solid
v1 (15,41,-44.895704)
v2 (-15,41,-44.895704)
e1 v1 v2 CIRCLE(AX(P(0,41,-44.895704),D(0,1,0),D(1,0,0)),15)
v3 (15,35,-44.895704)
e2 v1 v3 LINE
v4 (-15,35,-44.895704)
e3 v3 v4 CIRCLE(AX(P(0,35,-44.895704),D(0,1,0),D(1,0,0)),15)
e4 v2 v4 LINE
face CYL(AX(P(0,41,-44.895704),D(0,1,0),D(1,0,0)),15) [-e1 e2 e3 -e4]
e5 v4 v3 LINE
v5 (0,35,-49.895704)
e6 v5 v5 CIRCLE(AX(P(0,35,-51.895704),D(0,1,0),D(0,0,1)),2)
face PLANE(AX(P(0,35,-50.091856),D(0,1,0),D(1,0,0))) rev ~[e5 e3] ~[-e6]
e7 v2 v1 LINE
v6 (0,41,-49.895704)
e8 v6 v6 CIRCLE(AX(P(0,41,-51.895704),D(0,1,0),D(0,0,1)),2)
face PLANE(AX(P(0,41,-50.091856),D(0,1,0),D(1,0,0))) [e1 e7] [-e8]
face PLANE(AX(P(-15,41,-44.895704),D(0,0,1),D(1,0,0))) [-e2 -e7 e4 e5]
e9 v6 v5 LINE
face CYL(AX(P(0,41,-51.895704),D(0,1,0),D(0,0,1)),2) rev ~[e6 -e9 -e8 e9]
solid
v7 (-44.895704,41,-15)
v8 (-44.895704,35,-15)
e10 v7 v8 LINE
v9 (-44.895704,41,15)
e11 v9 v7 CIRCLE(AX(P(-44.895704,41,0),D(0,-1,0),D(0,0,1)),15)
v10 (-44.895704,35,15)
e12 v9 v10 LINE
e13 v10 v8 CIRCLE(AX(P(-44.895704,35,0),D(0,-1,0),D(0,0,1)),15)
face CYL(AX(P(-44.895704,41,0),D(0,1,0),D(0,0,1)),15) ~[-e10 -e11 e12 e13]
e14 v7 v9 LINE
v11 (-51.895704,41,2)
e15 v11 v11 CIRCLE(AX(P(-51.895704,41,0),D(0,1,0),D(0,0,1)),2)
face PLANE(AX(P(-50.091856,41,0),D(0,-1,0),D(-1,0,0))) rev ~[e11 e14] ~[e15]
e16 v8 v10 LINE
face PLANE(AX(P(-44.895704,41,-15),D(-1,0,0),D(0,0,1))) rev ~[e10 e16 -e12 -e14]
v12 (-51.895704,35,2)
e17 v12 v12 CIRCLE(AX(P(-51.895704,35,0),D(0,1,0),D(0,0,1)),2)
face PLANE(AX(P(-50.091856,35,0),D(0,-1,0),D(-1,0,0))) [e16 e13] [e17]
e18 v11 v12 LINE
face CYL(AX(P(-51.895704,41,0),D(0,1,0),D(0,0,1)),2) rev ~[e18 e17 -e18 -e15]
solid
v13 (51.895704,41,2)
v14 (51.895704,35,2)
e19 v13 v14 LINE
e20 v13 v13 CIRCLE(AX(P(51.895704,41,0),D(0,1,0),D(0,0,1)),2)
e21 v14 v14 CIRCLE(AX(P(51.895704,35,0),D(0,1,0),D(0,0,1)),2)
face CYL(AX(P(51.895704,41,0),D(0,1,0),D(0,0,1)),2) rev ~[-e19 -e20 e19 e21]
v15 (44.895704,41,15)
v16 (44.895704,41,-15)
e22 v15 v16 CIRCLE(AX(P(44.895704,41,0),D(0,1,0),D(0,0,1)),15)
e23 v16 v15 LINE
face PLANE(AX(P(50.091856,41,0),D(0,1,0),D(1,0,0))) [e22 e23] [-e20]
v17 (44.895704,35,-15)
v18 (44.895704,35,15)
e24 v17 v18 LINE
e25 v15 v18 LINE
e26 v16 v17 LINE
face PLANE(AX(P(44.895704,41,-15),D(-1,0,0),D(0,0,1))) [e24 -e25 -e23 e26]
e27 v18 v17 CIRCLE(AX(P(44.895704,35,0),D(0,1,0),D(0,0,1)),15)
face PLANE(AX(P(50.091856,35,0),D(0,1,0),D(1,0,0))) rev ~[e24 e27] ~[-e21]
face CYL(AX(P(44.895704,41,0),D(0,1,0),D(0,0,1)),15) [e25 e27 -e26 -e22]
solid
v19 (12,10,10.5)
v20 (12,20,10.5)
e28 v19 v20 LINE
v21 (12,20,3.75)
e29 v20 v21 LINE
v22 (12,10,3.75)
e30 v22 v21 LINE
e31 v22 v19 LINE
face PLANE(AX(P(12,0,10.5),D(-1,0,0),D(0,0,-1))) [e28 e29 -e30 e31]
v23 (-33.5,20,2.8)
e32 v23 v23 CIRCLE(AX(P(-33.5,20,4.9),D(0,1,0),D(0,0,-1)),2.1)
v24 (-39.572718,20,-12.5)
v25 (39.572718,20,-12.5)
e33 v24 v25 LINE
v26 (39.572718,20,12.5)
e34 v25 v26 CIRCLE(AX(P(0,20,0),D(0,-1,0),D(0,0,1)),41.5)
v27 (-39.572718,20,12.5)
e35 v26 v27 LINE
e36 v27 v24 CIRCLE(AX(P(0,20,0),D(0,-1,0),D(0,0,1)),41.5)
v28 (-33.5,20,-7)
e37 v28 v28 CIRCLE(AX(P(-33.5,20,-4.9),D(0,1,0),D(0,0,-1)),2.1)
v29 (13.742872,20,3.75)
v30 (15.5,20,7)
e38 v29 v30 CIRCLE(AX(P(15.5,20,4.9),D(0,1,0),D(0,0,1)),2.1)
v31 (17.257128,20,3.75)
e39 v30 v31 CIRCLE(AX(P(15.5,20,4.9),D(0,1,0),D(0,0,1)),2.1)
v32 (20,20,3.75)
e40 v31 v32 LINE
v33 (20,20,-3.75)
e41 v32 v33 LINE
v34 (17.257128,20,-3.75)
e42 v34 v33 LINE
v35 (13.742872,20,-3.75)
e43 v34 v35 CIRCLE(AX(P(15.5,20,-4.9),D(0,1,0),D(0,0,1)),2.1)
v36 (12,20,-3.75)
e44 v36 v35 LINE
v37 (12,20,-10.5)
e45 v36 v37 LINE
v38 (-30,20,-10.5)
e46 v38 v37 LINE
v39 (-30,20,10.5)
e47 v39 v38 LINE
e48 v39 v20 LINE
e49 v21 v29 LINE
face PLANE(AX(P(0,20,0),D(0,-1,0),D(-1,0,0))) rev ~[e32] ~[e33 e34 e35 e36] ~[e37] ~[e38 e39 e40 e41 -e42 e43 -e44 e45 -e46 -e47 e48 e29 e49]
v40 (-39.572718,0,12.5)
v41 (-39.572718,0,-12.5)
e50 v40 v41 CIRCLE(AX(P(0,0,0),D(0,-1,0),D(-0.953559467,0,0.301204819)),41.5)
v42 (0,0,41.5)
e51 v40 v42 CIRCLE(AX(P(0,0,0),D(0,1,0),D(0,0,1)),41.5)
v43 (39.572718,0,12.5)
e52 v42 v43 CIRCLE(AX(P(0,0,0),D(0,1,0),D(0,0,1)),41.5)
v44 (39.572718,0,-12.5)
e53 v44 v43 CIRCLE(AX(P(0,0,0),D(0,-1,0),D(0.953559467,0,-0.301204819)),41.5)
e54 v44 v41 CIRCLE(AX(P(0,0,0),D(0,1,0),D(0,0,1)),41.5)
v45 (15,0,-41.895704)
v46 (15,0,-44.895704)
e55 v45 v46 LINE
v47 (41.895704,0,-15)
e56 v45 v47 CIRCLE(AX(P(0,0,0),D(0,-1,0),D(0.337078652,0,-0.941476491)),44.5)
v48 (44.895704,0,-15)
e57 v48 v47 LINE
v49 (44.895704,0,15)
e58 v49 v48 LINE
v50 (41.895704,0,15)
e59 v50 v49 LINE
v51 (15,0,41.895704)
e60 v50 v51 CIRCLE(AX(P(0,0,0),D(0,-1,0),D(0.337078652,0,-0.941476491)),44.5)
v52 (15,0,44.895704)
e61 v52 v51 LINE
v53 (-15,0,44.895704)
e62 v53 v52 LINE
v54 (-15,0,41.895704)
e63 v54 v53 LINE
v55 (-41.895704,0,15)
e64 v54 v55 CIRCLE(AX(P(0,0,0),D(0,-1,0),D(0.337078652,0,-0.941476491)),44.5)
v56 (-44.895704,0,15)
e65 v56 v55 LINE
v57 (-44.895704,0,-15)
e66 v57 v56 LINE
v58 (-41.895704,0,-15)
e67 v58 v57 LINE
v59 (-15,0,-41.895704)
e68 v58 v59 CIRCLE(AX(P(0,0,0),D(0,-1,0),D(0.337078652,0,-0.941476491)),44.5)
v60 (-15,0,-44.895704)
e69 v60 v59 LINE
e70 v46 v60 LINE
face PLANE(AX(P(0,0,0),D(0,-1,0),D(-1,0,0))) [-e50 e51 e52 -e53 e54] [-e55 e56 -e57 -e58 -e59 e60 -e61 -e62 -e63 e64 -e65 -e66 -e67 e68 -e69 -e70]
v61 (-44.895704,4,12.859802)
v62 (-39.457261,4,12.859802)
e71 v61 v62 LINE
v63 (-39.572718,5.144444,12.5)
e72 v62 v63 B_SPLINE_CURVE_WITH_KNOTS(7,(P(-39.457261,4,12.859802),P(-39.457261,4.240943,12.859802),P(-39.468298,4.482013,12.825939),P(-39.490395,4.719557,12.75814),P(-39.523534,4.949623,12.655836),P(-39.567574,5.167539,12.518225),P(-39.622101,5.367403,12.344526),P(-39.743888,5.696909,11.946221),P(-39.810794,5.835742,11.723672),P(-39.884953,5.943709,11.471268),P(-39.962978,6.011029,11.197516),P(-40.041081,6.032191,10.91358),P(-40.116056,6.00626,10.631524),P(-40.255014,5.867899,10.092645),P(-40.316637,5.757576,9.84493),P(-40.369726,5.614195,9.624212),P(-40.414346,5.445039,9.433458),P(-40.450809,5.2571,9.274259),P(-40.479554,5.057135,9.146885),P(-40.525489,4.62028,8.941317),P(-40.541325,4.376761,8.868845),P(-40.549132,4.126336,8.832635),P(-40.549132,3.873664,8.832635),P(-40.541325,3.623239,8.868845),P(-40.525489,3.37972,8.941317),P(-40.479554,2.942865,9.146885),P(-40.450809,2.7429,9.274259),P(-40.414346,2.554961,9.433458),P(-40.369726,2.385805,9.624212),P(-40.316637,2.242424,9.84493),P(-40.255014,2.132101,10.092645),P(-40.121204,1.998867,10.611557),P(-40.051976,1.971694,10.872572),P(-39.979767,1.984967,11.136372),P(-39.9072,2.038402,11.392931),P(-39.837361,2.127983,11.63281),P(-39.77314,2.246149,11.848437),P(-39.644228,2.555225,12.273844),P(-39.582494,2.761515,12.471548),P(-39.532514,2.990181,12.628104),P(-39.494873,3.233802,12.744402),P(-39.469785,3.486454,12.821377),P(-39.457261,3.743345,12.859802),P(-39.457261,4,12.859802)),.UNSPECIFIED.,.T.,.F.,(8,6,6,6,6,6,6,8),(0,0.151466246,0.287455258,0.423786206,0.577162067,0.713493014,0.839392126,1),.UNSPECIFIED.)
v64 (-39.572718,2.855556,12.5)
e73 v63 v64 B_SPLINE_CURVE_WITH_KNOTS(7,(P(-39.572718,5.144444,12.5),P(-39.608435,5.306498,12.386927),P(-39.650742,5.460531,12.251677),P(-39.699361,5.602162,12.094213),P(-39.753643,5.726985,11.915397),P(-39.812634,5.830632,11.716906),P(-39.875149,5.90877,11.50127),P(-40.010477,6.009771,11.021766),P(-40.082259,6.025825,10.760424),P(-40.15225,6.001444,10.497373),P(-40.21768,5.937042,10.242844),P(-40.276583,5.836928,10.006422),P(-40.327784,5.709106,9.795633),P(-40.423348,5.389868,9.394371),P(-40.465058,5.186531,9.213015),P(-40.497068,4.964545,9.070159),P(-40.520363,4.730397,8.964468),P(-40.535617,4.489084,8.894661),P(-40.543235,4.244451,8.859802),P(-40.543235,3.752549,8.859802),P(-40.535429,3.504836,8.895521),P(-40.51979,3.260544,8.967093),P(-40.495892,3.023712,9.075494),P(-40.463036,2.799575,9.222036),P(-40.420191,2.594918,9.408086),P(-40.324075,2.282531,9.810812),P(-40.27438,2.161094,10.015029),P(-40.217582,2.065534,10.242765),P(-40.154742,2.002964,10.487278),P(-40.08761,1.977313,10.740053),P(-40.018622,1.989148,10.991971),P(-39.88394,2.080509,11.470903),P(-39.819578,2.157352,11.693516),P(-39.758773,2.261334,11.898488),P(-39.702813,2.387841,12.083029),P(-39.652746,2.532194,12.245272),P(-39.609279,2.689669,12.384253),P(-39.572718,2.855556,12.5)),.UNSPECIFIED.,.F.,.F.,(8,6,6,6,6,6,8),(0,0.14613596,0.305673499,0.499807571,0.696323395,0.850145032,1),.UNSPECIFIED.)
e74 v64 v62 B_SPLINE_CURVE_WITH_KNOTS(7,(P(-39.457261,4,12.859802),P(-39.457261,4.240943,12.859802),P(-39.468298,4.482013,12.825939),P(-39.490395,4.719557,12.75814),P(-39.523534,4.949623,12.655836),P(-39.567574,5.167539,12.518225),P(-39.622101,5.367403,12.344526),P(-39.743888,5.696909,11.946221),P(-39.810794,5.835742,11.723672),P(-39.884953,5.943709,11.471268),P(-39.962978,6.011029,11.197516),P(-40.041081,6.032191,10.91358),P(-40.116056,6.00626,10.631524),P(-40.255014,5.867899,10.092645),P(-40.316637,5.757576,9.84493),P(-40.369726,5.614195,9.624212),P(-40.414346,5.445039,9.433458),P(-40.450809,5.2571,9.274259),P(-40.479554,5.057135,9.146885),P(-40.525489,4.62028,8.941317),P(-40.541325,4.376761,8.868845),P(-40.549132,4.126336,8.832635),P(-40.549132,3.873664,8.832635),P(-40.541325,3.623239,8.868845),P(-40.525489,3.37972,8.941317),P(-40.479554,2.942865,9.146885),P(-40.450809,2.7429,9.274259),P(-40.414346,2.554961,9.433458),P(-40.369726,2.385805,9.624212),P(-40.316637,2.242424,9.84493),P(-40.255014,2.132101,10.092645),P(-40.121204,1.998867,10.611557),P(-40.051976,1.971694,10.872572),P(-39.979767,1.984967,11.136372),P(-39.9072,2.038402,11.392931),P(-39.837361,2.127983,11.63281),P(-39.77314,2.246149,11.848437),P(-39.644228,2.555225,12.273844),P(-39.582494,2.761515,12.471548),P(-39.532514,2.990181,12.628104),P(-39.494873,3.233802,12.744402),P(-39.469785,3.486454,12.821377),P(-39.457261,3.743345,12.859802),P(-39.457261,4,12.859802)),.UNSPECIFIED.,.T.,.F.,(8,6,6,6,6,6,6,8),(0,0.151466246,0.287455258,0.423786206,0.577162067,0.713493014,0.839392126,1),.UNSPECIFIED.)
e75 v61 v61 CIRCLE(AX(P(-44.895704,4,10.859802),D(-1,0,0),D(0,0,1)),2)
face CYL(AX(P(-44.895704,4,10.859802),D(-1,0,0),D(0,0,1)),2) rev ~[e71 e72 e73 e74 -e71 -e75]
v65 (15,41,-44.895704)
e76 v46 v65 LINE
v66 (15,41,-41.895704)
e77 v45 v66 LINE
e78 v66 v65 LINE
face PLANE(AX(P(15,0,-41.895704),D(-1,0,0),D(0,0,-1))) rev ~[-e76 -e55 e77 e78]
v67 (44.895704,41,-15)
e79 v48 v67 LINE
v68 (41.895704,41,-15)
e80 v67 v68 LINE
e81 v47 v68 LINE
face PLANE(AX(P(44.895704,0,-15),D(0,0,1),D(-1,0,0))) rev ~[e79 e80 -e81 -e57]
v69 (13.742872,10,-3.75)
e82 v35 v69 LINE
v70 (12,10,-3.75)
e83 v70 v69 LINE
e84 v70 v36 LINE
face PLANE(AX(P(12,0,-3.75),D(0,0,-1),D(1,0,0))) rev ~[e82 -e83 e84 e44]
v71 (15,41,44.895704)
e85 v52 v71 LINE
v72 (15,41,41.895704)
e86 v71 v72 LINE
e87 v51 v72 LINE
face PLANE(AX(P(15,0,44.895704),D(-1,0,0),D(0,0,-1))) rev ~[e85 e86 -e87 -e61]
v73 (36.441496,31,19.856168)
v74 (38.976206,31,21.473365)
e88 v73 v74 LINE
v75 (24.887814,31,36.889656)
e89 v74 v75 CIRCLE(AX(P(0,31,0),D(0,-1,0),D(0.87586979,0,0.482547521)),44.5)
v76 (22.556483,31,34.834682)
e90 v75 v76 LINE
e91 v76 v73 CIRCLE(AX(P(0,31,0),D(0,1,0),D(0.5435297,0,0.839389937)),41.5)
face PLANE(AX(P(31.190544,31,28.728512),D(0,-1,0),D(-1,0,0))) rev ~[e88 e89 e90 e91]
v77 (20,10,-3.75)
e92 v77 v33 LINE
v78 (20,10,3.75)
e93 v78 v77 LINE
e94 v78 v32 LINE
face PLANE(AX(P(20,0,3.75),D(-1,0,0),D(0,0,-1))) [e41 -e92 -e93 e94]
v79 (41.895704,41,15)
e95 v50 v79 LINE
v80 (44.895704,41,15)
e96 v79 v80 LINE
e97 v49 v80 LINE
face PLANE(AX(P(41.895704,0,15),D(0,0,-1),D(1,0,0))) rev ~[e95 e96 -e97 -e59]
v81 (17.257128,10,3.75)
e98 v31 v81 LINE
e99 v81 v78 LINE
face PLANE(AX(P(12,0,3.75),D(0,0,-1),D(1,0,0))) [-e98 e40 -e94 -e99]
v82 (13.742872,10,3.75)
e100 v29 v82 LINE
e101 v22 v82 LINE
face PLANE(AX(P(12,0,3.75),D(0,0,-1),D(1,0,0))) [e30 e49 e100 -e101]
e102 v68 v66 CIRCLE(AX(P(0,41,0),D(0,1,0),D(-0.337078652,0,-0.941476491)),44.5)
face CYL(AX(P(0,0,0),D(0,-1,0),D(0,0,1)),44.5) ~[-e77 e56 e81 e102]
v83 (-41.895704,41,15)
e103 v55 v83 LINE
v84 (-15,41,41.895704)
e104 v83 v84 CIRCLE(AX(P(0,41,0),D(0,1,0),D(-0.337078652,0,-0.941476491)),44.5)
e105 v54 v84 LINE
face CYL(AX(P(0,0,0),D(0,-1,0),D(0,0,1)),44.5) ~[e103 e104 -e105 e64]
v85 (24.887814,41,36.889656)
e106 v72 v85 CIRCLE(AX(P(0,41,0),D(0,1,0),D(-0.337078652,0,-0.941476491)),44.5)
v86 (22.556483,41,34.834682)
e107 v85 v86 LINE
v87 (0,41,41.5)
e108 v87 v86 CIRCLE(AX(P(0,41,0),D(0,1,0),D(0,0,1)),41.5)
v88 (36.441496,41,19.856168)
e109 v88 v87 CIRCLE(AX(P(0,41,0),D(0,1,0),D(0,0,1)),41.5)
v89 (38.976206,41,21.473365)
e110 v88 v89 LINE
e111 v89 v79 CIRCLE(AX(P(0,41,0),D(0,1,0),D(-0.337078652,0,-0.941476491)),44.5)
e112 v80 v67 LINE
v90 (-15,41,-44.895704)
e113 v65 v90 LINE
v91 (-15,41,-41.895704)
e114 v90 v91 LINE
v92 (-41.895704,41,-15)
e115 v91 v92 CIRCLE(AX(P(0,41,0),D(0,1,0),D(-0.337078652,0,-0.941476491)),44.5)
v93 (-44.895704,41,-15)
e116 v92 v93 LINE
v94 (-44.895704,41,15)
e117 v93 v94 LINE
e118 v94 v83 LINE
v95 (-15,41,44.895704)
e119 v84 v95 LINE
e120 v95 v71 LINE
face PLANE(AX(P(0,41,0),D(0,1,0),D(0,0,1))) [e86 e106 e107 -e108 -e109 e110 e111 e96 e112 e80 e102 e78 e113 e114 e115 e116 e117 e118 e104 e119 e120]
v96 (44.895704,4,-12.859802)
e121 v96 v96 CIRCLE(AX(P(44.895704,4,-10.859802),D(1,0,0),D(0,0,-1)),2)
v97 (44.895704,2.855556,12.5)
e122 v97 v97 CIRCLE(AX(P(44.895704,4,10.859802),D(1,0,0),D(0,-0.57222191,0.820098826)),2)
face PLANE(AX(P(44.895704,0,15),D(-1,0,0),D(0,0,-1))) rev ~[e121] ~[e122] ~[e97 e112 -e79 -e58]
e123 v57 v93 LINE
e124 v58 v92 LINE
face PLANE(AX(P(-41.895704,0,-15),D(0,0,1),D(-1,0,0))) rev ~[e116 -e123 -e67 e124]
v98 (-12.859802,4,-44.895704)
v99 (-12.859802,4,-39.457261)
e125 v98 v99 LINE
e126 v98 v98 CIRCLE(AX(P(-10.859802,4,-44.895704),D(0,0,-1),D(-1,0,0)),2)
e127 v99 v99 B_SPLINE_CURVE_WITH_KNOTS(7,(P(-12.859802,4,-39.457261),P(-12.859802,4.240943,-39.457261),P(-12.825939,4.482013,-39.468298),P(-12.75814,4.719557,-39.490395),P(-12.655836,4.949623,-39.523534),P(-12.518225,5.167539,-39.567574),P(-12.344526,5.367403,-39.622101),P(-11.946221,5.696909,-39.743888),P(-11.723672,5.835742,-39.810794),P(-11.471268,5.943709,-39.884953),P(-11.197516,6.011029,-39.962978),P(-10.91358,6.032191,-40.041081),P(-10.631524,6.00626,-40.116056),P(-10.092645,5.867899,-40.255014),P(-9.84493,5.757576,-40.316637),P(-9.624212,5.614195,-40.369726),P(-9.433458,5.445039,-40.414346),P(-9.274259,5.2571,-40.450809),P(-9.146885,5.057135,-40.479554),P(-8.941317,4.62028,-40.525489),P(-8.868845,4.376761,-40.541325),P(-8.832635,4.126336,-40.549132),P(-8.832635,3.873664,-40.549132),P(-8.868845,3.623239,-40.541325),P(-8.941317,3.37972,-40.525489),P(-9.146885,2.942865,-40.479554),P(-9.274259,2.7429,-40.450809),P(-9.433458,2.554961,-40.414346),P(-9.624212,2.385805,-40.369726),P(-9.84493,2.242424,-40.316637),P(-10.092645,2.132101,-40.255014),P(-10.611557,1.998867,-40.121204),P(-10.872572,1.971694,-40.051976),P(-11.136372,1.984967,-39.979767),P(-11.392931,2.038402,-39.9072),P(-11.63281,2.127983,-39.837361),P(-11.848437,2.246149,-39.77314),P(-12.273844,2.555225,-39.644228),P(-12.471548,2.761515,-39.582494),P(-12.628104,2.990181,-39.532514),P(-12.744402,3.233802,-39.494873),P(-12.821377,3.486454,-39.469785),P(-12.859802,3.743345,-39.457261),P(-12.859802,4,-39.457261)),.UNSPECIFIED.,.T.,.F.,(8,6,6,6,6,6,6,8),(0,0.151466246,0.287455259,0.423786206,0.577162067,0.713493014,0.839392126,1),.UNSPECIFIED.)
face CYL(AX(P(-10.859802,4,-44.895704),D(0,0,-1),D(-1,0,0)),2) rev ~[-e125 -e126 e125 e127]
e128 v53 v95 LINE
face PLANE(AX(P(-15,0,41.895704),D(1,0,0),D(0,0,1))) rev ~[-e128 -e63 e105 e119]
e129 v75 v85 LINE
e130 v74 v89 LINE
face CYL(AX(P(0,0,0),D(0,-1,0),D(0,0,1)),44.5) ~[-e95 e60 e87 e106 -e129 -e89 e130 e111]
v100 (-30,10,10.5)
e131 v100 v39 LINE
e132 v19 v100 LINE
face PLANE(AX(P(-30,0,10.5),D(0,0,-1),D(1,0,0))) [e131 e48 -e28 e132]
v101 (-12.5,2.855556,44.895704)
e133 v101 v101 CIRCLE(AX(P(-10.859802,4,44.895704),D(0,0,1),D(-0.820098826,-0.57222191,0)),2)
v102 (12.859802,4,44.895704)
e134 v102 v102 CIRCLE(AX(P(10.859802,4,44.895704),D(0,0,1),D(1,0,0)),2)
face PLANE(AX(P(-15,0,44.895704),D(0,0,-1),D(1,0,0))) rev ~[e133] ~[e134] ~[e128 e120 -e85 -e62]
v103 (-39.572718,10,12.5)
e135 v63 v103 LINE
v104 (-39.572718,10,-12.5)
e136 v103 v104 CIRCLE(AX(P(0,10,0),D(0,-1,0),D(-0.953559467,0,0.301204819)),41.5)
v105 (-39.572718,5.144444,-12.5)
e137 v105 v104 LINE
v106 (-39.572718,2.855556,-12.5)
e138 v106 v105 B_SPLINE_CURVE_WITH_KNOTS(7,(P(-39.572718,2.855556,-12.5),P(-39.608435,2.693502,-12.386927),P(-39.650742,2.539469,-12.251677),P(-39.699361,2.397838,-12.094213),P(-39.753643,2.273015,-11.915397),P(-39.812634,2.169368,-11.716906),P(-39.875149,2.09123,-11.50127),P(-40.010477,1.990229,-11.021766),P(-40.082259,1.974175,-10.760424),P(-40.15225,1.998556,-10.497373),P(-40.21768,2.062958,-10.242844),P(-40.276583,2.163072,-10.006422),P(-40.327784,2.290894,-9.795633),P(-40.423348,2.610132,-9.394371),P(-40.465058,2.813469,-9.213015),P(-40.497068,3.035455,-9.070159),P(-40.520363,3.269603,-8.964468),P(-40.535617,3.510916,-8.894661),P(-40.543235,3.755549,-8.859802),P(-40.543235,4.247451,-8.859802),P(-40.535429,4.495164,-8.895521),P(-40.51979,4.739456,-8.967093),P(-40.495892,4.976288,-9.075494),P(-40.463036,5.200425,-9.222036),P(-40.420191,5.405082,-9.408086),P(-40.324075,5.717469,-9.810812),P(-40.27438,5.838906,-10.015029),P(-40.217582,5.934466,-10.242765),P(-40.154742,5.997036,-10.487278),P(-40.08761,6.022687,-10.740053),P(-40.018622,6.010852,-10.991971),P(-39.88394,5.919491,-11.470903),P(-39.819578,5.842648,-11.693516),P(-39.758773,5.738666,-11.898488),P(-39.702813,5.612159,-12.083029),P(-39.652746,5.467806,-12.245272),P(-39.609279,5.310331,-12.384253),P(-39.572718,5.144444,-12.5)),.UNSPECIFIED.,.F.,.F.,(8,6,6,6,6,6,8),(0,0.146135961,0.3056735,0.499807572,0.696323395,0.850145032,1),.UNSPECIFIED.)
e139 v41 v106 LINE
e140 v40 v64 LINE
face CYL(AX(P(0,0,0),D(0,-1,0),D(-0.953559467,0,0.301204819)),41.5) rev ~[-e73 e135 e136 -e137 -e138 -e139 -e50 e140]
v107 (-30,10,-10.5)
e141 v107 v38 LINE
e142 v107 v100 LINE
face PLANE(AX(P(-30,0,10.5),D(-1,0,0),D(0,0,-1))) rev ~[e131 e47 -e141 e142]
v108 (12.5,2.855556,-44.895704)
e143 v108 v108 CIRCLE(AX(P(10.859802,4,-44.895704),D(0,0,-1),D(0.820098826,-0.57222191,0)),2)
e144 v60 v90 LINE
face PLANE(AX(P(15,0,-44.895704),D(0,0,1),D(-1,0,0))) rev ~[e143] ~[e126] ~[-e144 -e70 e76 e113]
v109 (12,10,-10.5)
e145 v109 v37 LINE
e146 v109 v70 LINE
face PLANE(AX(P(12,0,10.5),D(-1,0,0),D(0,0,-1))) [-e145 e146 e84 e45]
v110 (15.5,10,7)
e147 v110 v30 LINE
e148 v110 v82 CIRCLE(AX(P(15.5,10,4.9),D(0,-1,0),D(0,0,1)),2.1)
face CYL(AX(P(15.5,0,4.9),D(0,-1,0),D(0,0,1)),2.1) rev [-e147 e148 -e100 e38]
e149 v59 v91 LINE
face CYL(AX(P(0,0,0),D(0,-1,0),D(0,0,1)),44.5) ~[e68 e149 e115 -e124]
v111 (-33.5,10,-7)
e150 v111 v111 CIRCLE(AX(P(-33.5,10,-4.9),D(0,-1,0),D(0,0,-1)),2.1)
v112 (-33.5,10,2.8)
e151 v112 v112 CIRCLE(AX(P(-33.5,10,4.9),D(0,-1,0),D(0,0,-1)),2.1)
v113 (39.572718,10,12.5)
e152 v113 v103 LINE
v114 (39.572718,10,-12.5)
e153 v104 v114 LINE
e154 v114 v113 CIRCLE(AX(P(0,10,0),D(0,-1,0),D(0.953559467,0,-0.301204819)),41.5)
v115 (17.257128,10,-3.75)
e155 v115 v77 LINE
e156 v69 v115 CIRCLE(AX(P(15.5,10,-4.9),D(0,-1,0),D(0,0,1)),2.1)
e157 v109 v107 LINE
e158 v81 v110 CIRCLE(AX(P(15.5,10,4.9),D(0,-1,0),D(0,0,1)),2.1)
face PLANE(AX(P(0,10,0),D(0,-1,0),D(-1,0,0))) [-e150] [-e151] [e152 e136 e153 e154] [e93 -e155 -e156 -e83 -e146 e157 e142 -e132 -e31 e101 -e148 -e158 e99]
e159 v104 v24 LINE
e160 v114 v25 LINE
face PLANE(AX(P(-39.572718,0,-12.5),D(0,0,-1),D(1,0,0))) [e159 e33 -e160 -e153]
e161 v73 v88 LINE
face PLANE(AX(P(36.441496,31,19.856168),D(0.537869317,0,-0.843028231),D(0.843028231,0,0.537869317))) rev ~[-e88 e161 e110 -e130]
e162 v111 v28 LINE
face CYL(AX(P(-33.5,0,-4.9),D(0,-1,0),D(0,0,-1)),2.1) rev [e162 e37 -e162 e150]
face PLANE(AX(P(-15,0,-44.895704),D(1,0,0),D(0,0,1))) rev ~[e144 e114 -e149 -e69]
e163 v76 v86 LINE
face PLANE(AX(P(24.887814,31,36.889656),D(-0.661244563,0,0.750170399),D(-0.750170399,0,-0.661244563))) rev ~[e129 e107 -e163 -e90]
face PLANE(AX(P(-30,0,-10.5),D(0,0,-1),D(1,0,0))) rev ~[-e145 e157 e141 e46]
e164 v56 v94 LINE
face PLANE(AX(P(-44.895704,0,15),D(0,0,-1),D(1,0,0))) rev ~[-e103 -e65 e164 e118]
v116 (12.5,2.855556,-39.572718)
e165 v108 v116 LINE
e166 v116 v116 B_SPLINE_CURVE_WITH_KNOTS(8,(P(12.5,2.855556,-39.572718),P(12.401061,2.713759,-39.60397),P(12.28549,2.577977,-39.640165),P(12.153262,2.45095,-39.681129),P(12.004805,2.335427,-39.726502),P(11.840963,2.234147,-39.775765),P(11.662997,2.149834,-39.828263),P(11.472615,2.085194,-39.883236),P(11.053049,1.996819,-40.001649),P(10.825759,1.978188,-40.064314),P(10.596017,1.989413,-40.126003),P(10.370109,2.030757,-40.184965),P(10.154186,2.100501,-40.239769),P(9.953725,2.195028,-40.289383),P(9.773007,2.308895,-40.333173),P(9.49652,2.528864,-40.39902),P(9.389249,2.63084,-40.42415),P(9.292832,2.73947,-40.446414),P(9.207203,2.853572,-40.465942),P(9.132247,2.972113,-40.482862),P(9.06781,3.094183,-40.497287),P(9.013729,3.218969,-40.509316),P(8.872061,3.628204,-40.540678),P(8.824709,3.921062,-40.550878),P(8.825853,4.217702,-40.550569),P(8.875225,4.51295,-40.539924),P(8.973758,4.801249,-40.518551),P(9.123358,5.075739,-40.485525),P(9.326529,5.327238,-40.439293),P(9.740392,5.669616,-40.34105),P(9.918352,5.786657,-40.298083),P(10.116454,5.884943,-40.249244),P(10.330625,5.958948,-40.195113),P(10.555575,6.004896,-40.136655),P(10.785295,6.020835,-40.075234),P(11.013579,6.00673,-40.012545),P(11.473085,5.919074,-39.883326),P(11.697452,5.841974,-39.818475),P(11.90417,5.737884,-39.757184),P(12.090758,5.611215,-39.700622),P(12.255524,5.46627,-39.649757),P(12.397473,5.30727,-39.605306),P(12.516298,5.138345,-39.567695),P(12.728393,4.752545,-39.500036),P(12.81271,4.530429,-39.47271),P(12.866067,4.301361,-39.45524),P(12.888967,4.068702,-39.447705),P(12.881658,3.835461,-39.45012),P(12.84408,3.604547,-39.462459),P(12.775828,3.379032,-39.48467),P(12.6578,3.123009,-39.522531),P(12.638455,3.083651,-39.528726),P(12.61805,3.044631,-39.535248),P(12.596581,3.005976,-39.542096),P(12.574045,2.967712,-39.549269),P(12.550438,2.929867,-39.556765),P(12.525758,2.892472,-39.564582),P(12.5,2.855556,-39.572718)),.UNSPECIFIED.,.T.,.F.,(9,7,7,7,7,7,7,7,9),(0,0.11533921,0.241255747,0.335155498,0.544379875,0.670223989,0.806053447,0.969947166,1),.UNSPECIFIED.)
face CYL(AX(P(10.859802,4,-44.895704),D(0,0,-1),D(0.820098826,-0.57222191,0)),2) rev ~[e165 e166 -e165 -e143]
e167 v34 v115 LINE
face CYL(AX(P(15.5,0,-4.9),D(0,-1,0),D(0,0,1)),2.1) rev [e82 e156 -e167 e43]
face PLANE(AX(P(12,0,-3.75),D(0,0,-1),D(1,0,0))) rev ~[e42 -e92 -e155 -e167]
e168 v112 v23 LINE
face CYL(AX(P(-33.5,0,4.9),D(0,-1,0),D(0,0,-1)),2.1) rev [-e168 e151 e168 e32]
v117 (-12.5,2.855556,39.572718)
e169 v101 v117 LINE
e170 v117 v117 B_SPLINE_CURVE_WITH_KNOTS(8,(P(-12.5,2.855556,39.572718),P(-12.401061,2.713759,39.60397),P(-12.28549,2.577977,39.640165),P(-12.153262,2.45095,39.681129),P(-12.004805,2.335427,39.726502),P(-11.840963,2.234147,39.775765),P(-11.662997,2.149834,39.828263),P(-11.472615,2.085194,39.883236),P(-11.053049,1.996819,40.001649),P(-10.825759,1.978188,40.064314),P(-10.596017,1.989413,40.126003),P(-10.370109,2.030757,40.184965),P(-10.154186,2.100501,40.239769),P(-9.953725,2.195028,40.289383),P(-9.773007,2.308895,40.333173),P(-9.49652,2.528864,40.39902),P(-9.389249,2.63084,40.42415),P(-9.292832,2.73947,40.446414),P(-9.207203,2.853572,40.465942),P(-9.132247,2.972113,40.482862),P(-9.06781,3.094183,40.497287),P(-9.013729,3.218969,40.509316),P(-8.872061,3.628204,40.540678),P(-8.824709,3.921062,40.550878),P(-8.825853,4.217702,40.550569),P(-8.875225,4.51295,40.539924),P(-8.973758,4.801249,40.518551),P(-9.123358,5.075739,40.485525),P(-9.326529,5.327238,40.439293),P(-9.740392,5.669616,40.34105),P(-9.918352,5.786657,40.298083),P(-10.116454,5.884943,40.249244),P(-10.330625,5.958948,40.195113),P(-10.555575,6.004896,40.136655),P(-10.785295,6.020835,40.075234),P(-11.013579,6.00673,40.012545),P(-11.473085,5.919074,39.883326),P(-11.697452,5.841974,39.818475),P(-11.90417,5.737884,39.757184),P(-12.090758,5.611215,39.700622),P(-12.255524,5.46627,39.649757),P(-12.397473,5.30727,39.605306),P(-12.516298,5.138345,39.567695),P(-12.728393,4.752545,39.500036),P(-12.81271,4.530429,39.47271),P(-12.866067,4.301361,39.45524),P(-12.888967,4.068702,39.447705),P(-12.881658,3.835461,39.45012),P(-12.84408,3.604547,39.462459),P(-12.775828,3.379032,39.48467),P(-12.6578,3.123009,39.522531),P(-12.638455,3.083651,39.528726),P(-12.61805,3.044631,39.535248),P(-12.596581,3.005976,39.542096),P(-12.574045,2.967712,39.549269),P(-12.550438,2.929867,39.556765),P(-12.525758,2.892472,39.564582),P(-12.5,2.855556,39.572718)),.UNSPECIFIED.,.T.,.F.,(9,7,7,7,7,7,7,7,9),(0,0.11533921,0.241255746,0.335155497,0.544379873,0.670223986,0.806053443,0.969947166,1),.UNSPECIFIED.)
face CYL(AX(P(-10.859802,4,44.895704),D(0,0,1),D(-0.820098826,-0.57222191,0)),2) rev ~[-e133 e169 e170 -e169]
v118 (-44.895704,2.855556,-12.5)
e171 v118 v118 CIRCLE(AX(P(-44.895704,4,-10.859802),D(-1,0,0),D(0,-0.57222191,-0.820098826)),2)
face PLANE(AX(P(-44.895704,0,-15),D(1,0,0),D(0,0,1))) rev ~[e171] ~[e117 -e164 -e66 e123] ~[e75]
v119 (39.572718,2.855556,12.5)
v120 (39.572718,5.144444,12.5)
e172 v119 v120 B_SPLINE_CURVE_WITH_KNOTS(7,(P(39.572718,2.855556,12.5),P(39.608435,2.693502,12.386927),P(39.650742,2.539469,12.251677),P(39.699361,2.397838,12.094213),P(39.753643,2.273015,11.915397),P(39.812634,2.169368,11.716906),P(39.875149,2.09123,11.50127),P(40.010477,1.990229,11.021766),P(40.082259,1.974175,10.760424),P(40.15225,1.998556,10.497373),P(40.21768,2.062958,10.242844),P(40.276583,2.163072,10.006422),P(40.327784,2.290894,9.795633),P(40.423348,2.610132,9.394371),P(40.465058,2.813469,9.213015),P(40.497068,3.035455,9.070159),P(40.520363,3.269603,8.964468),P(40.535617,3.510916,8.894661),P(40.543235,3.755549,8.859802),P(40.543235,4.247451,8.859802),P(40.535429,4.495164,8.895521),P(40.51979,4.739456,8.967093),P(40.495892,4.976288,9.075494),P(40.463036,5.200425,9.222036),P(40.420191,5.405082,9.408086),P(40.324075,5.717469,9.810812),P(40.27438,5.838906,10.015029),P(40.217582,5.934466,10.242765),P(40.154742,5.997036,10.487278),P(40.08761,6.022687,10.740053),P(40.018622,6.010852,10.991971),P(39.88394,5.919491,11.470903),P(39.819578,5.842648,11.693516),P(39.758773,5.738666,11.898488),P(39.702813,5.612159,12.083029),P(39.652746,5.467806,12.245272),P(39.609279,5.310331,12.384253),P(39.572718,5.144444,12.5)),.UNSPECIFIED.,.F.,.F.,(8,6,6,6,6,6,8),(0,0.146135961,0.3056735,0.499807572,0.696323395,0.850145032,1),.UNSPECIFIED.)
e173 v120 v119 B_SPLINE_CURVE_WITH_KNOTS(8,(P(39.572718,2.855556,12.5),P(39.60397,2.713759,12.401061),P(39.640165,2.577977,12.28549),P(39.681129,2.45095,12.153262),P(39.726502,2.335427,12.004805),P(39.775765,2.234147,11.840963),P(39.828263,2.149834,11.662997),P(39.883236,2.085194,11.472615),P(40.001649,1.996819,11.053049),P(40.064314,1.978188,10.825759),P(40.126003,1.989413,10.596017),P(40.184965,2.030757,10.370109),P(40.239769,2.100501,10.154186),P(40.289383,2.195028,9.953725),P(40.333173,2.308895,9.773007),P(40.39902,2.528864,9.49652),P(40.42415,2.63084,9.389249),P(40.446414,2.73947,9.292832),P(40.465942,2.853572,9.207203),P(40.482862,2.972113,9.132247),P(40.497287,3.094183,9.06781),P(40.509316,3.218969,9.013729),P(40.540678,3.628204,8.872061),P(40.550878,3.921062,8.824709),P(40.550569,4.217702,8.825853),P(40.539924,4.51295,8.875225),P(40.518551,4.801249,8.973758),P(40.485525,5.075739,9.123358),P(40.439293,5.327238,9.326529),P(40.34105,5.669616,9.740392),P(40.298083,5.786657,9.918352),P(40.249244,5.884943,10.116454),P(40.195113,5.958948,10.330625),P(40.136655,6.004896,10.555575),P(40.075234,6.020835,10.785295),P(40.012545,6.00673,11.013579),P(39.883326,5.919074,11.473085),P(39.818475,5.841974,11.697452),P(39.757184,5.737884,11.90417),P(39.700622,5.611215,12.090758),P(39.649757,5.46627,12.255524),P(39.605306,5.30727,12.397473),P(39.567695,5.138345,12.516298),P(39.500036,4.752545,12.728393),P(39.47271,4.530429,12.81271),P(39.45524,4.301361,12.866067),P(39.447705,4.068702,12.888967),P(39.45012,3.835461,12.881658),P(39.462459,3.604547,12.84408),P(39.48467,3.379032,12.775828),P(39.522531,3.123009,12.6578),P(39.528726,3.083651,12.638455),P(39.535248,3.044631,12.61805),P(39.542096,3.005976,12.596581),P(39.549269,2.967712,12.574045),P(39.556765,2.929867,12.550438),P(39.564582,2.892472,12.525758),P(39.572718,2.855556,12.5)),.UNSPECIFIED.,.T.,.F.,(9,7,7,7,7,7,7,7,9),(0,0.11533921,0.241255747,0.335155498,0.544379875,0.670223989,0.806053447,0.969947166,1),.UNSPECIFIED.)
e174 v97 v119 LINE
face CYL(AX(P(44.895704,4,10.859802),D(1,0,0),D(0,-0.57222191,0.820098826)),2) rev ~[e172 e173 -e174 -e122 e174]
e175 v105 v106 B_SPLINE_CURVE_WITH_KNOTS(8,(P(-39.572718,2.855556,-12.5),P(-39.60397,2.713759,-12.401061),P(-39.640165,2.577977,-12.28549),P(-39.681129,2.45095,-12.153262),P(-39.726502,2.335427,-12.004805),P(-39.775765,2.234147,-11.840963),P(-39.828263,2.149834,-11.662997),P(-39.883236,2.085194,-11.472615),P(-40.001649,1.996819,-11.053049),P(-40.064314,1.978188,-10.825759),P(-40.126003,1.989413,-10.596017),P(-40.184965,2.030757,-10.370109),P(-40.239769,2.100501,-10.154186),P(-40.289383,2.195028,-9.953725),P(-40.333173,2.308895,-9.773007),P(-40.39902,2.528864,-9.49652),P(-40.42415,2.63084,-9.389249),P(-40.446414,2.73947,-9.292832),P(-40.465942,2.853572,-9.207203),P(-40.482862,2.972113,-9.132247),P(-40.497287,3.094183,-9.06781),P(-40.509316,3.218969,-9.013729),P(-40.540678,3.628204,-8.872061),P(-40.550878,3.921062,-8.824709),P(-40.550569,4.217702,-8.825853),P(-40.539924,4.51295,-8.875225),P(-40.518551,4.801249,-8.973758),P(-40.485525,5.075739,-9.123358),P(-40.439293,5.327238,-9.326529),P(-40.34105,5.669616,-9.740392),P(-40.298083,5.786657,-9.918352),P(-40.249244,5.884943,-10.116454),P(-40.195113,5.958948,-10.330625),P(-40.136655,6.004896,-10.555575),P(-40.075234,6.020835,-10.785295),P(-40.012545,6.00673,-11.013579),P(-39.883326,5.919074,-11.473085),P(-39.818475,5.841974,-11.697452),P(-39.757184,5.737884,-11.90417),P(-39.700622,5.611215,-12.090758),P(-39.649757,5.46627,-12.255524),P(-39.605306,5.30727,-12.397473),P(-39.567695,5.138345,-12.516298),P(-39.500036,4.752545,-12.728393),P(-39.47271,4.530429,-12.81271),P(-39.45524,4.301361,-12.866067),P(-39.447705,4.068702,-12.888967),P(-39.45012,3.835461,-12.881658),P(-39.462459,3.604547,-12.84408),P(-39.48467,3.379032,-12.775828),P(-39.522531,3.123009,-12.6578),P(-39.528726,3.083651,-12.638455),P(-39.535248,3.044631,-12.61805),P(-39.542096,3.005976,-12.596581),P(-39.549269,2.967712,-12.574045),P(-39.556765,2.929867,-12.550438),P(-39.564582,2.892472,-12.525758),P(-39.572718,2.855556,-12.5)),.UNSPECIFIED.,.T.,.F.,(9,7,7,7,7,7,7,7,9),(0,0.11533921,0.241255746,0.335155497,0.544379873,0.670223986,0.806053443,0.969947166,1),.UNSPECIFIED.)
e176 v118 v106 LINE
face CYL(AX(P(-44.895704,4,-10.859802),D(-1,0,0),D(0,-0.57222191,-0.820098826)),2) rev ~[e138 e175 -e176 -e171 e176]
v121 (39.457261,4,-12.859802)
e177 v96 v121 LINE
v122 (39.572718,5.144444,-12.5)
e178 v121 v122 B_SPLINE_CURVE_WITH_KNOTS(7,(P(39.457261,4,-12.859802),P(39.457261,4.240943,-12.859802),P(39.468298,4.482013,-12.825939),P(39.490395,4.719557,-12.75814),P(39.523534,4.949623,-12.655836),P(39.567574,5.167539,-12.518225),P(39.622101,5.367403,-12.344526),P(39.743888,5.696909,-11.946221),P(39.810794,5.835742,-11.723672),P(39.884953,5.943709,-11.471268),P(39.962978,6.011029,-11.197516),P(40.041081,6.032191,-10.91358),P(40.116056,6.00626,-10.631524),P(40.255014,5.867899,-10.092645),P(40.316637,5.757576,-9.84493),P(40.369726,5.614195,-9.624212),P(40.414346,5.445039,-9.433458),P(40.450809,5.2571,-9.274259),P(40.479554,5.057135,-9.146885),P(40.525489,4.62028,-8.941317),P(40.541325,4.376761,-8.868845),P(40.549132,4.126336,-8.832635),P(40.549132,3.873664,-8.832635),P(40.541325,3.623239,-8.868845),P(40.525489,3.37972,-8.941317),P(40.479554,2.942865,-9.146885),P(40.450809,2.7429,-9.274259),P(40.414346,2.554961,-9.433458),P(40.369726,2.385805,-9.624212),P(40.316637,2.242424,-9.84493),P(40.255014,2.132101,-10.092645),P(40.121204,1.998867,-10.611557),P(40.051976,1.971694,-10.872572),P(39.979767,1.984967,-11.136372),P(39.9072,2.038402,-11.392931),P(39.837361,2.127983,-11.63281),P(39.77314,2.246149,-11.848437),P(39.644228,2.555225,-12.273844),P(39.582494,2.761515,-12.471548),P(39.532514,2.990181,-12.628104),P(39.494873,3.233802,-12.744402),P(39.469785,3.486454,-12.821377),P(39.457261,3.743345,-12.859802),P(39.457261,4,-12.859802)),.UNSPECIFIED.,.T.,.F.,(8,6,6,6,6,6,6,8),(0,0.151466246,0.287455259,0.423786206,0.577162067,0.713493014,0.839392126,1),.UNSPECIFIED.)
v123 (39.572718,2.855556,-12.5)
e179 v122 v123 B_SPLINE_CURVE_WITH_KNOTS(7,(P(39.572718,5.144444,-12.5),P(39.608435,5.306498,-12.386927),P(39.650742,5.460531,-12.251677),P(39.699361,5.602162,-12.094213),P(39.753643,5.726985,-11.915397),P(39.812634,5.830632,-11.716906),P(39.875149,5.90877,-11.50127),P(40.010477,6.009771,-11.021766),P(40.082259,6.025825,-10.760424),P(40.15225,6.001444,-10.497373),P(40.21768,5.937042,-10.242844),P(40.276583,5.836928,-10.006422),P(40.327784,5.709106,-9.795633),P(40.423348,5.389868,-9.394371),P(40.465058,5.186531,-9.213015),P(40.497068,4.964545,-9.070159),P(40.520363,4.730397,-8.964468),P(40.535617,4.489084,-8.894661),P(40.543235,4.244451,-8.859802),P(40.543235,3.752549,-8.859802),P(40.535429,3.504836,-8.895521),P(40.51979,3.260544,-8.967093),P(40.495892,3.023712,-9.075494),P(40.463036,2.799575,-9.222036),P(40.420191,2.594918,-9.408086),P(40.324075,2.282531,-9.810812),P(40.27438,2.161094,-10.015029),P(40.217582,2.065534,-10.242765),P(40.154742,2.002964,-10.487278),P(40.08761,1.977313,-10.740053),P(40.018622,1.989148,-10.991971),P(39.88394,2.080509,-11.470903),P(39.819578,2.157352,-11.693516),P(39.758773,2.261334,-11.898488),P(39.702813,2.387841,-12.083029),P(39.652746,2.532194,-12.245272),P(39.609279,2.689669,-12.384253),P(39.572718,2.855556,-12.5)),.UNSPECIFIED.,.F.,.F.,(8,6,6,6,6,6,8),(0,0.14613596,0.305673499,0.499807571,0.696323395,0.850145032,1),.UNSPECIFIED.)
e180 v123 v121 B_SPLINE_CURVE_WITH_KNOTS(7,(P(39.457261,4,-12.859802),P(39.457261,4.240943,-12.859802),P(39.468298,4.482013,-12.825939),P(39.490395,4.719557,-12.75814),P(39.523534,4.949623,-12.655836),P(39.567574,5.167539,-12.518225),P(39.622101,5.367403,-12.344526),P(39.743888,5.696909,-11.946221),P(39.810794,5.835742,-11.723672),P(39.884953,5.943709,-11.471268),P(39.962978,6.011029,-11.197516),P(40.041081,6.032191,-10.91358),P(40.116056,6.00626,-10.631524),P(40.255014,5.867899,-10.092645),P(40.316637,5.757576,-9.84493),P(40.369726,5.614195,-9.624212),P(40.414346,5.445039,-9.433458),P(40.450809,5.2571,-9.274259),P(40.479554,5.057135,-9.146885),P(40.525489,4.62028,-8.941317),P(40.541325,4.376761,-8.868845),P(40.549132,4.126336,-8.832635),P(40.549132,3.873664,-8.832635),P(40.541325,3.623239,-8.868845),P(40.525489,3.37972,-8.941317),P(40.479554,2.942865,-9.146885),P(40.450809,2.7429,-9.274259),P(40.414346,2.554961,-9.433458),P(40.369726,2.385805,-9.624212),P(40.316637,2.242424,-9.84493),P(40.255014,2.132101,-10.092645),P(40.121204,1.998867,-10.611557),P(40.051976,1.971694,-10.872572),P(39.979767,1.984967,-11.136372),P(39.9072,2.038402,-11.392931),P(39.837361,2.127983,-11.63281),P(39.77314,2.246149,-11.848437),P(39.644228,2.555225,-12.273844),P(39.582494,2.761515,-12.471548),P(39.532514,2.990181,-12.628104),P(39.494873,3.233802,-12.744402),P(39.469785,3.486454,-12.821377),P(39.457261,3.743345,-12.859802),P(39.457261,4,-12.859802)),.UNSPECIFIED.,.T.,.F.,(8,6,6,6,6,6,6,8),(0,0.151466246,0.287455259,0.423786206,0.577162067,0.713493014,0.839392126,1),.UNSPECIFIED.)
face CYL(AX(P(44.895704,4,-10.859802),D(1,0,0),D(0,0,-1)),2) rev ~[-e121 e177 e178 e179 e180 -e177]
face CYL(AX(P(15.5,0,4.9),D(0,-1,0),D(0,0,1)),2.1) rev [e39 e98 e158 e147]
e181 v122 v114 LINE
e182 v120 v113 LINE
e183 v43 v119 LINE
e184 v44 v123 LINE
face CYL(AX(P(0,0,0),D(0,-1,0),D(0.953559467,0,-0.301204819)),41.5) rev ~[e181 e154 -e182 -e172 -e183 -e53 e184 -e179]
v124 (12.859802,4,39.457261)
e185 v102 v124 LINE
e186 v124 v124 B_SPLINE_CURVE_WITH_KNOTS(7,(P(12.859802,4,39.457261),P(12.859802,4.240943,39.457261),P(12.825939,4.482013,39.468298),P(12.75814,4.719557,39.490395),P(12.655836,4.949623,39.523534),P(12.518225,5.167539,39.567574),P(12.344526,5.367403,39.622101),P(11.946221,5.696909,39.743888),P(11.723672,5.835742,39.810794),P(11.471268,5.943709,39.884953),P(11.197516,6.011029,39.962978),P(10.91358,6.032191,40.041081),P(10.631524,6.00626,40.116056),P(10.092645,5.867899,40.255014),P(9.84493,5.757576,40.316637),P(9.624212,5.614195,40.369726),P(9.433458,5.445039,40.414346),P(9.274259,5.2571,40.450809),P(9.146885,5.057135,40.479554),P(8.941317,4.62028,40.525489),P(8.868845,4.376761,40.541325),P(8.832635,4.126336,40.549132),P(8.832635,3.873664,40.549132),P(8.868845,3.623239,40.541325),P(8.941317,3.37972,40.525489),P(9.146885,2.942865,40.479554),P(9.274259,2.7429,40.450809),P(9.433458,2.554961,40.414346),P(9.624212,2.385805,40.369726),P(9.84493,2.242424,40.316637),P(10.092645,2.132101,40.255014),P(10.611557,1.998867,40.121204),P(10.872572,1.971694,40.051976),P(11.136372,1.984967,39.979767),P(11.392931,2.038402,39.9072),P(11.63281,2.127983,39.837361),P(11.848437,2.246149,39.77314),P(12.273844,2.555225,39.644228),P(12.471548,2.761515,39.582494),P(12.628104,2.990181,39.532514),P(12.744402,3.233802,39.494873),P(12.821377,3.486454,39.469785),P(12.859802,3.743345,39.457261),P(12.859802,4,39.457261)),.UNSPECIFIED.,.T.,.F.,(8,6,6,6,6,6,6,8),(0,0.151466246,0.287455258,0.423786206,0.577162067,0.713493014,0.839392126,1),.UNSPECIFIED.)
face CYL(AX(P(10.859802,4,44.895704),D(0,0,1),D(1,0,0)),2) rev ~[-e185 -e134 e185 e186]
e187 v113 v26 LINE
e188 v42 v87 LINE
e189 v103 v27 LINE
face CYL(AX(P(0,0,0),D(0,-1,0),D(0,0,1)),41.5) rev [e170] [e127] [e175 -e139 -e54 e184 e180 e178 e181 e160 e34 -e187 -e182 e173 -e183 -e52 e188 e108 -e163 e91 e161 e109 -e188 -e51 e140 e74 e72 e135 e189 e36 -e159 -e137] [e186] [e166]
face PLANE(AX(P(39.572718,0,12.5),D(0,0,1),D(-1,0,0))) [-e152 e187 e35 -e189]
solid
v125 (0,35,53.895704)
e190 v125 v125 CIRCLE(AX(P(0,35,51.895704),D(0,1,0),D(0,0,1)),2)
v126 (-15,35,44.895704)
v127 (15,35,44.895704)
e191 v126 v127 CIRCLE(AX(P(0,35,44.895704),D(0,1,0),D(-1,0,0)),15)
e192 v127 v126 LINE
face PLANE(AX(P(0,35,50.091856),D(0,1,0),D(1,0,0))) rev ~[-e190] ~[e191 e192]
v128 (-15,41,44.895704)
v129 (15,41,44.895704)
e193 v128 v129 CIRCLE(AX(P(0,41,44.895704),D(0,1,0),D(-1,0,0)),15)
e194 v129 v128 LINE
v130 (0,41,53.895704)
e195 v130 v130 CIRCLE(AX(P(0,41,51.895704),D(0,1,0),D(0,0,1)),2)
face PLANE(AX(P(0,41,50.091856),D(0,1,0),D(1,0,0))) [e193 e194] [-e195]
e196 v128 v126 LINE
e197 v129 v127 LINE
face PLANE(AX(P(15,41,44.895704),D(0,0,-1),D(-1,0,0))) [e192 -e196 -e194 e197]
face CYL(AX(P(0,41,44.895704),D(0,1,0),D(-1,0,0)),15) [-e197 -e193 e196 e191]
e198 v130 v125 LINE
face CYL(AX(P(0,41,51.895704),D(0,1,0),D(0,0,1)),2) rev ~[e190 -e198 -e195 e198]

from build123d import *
from build123d.topology import SkipClean

# Parameters (mm, degrees)
SKETCH1_R             = 44.5
SKETCH1_R_2           = 41.5
BOSS_EXTRUDE1_DEPTH   = 41
SKETCH2_R             = 2.1
SKETCH2_W             = 42
SKETCH2_H             = 21
BOSS_EXTRUDE2_DEPTH   = 20
BOSS_EXTRUDE3_DEPTH   = 41
CIRPATTERN1_COUNT     = 4
SKETCH4_R             = 2
CUT_EXTRUDE1_DEPTH    = 7
CUT_EXTRUDE2_DEPTH    = 10
CIRPATTERN2_COUNT     = 4
SKETCH6_R             = 2
BOSS_EXTRUDE4_DEPTH   = 6
BOSS_EXTRUDE4_2_DEPTH = 6
BOSS_EXTRUDE4_3_DEPTH = 6
BOSS_EXTRUDE4_4_DEPTH = 6
SKETCH8_W             = 8
SKETCH8_H             = 7.5
CUT_EXTRUDE3_DEPTH    = 60
CUT_EXTRUDE4_START    = -10
CUT_EXTRUDE4_DEPTH    = 10


with BuildPart() as part:
    # Sketch1 → Boss-Extrude1 (new body)
    with BuildSketch(Plane(origin=(0, 0, 0), x_dir=(1, 0, 0), z_dir=(0, 1, 0))):
        with Locations(Location((0, 0, 0), (0, 0, 270))):
            Circle(SKETCH1_R)
        with Locations(Location((0, 0, 0), (0, 0, 270))):
            Circle(SKETCH1_R_2, mode=Mode.SUBTRACT)
    extrude(amount=BOSS_EXTRUDE1_DEPTH)

    # Sketch2 → Boss-Extrude2 (add)
    with BuildSketch(Plane(origin=(0, 0, 0), x_dir=(1, 0, 0), z_dir=(0, 1, 0))):
        with BuildLine():
            Line((-39.572717875, 12.5), (39.572717875, 12.5))
            ThreePointArc((39.572717875, 12.5), (41.658434963, 0), (39.572717875, -12.5))
            Line((39.572717875, -12.5), (-39.572717875, -12.5))
            ThreePointArc((-39.572717875, -12.5), (-41.658434963, 0), (-39.572717875, 12.5))
        make_face()
        with Locations(Location((15.5, 4.9, 0), (0, 0, 270))):
            Circle(SKETCH2_R, mode=Mode.SUBTRACT)
        with Locations(Location((15.5, -4.9, 0), (0, 0, 270))):
            Circle(SKETCH2_R, mode=Mode.SUBTRACT)
        with Locations(Location((-33.5, 4.9, 0), (0, 0, 90))):
            Circle(SKETCH2_R, mode=Mode.SUBTRACT)
        with Locations(Location((-33.5, -4.9, 0), (0, 0, 90))):
            Circle(SKETCH2_R, mode=Mode.SUBTRACT)
        with Locations((-9, 0)):
            Rectangle(SKETCH2_W, SKETCH2_H, mode=Mode.SUBTRACT)
    extrude(amount=BOSS_EXTRUDE2_DEPTH)

    # Sketch3 → Boss-Extrude3 (add)
    with BuildSketch(Plane(origin=(0, 0, 0), x_dir=(1, 0, 0), z_dir=(0, 1, 0))):
        with BuildLine():
            Line((0, 44.895703837), (-15, 44.895703837))
            Line((-15, 44.895703837), (-15, 41.895703837))
            ThreePointArc((-15, 41.895703837), (0, 44.5), (15, 41.895703837))
            Line((15, 41.895703837), (15, 44.895703837))
            Line((15, 44.895703837), (0, 44.895703837))
        make_face()
    boss_extrude3 = extrude(amount=BOSS_EXTRUDE3_DEPTH)

    # CirPattern1: Boss-Extrude3 ×4 about axis
    cirpattern1_axis = Axis((0, 0, 0), (0, 1, 0))
    for i in range(1, CIRPATTERN1_COUNT):
        add(boss_extrude3.rotate(cirpattern1_axis, i * 360 / CIRPATTERN1_COUNT))

    # Sketch4 → Cut-Extrude1 (cut)
    with BuildSketch(Plane.ZY.offset(44.895703837)):
        with Locations((10.859802344, 4)):
            Circle(SKETCH4_R)
        with Locations(Location((-10.859802344, 4, 0), (0, 0, 214.905312115))):
            Circle(SKETCH4_R)
    cut_extrude1 = extrude(amount=-CUT_EXTRUDE1_DEPTH, mode=Mode.SUBTRACT)

    # Sketch5 → Cut-Extrude2 (cut)
    with SkipClean():  # the faces are left unmerged after this step: merging them gives an invalid solid
        with BuildSketch(Plane(origin=(0, 0, 0), x_dir=(1, 0, 0), z_dir=(0, 1, 0))):
            with BuildLine():
                Line((-39.572717875, 12.5), (39.572717875, 12.5))
                ThreePointArc((39.572717875, 12.5), (41.5, 0), (39.572717875, -12.5))
                Line((39.572717875, -12.5), (-39.572717875, -12.5))
                ThreePointArc((-39.572717875, -12.5), (-41.5, 0), (-39.572717875, 12.5))
            make_face()
        extrude(amount=CUT_EXTRUDE2_DEPTH, mode=Mode.SUBTRACT)

    # CirPattern2: Cut-Extrude1 ×4 about axis
    with SkipClean():  # the faces are left unmerged after this step: merging them gives an invalid solid
        cirpattern2_axis = Axis((0, 41, 0), (0, -1, 0))
        for i in range(1, CIRPATTERN2_COUNT):
            add(cut_extrude1.rotate(cirpattern2_axis, i * 360 / CIRPATTERN2_COUNT), mode=Mode.SUBTRACT)

    # Sketch8 → Cut-Extrude3 (cut)
    with SkipClean():  # the faces are left unmerged after this step: merging them gives an invalid solid
        with BuildSketch(Plane(origin=(0, 0, 0), x_dir=(1, 0, 0), z_dir=(0, 1, 0))):
            with Locations((16, 0)):
                Rectangle(SKETCH8_W, SKETCH8_H)
        extrude(amount=CUT_EXTRUDE3_DEPTH, mode=Mode.SUBTRACT)

    # Sketch9 → Cut-Extrude4 (cut)
    with SkipClean():  # the faces are left unmerged after this step: merging them gives an invalid solid
        with BuildSketch(Plane(origin=(0, 41, 0), x_dir=(1, 0, 0), z_dir=(0, 1, 0)).offset(CUT_EXTRUDE4_START)):
            with BuildLine():
                Line((36.441495651, -19.856167674), (38.976205671, -21.473364699))
                ThreePointArc((38.976205671, -21.473364699), (32.849182071, -30.019680832), (24.887814069, -36.889655879))
                Line((24.887814069, -36.889655879), (22.556482536, -34.834682367))
                ThreePointArc((22.556482536, -34.834682367), (30.434837492, -28.212952112), (36.441495651, -19.856167674))
            make_face()
        extrude(amount=CUT_EXTRUDE4_DEPTH, mode=Mode.SUBTRACT)


with BuildPart() as body_2:
    # Sketch6 → Boss-Extrude4 (new body)
    with BuildSketch(Plane(origin=(0, 41, 0), x_dir=(1, 0, 0), z_dir=(0, 1, 0))):
        with BuildLine():
            Line((-44.895703837, 15), (-44.895703837, -15))
            ThreePointArc((-44.895703837, -15), (-59.895703837, 0), (-44.895703837, 15))
        make_face()
        with Locations(Location((-51.895703837, 0, 0), (0, 0, 270))):
            Circle(SKETCH6_R, mode=Mode.SUBTRACT)
    extrude(amount=-BOSS_EXTRUDE4_DEPTH)


with BuildPart() as body_3:
    # Sketch6 → Boss-Extrude4 2 (new body)
    with BuildSketch(Plane(origin=(0, 41, 0), x_dir=(1, 0, 0), z_dir=(0, 1, 0))):
        with BuildLine():
            Line((-15, 44.895703837), (15, 44.895703837))
            ThreePointArc((15, 44.895703837), (0, 59.895703837), (-15, 44.895703837))
        make_face()
        with Locations(Location((0, 51.895703837, 0), (0, 0, 270))):
            Circle(SKETCH6_R, mode=Mode.SUBTRACT)
    extrude(amount=-BOSS_EXTRUDE4_2_DEPTH)


with BuildPart() as body_4:
    # Sketch6 → Boss-Extrude4 3 (new body)
    with BuildSketch(Plane(origin=(0, 41, 0), x_dir=(1, 0, 0), z_dir=(0, 1, 0))):
        with BuildLine():
            Line((44.895703837, 15), (44.895703837, -15))
            ThreePointArc((44.895703837, -15), (59.895703837, 0), (44.895703837, 15))
        make_face()
        with Locations(Location((51.895703837, 0, 0), (0, 0, 270))):
            Circle(SKETCH6_R, mode=Mode.SUBTRACT)
    extrude(amount=-BOSS_EXTRUDE4_3_DEPTH)


with BuildPart() as body_5:
    # Sketch6 → Boss-Extrude4 4 (new body)
    with BuildSketch(Plane(origin=(0, 41, 0), x_dir=(1, 0, 0), z_dir=(0, 1, 0))):
        with BuildLine():
            Line((15, -44.895703837), (-15, -44.895703837))
            ThreePointArc((-15, -44.895703837), (0, -59.895703837), (15, -44.895703837))
        make_face()
        with Locations(Location((0, -51.895703837, 0), (0, 0, 270))):
            Circle(SKETCH6_R, mode=Mode.SUBTRACT)
    extrude(amount=-BOSS_EXTRUDE4_4_DEPTH)


solid = Compound([part.part, body_2.part, body_3.part, body_4.part, body_5.part])
